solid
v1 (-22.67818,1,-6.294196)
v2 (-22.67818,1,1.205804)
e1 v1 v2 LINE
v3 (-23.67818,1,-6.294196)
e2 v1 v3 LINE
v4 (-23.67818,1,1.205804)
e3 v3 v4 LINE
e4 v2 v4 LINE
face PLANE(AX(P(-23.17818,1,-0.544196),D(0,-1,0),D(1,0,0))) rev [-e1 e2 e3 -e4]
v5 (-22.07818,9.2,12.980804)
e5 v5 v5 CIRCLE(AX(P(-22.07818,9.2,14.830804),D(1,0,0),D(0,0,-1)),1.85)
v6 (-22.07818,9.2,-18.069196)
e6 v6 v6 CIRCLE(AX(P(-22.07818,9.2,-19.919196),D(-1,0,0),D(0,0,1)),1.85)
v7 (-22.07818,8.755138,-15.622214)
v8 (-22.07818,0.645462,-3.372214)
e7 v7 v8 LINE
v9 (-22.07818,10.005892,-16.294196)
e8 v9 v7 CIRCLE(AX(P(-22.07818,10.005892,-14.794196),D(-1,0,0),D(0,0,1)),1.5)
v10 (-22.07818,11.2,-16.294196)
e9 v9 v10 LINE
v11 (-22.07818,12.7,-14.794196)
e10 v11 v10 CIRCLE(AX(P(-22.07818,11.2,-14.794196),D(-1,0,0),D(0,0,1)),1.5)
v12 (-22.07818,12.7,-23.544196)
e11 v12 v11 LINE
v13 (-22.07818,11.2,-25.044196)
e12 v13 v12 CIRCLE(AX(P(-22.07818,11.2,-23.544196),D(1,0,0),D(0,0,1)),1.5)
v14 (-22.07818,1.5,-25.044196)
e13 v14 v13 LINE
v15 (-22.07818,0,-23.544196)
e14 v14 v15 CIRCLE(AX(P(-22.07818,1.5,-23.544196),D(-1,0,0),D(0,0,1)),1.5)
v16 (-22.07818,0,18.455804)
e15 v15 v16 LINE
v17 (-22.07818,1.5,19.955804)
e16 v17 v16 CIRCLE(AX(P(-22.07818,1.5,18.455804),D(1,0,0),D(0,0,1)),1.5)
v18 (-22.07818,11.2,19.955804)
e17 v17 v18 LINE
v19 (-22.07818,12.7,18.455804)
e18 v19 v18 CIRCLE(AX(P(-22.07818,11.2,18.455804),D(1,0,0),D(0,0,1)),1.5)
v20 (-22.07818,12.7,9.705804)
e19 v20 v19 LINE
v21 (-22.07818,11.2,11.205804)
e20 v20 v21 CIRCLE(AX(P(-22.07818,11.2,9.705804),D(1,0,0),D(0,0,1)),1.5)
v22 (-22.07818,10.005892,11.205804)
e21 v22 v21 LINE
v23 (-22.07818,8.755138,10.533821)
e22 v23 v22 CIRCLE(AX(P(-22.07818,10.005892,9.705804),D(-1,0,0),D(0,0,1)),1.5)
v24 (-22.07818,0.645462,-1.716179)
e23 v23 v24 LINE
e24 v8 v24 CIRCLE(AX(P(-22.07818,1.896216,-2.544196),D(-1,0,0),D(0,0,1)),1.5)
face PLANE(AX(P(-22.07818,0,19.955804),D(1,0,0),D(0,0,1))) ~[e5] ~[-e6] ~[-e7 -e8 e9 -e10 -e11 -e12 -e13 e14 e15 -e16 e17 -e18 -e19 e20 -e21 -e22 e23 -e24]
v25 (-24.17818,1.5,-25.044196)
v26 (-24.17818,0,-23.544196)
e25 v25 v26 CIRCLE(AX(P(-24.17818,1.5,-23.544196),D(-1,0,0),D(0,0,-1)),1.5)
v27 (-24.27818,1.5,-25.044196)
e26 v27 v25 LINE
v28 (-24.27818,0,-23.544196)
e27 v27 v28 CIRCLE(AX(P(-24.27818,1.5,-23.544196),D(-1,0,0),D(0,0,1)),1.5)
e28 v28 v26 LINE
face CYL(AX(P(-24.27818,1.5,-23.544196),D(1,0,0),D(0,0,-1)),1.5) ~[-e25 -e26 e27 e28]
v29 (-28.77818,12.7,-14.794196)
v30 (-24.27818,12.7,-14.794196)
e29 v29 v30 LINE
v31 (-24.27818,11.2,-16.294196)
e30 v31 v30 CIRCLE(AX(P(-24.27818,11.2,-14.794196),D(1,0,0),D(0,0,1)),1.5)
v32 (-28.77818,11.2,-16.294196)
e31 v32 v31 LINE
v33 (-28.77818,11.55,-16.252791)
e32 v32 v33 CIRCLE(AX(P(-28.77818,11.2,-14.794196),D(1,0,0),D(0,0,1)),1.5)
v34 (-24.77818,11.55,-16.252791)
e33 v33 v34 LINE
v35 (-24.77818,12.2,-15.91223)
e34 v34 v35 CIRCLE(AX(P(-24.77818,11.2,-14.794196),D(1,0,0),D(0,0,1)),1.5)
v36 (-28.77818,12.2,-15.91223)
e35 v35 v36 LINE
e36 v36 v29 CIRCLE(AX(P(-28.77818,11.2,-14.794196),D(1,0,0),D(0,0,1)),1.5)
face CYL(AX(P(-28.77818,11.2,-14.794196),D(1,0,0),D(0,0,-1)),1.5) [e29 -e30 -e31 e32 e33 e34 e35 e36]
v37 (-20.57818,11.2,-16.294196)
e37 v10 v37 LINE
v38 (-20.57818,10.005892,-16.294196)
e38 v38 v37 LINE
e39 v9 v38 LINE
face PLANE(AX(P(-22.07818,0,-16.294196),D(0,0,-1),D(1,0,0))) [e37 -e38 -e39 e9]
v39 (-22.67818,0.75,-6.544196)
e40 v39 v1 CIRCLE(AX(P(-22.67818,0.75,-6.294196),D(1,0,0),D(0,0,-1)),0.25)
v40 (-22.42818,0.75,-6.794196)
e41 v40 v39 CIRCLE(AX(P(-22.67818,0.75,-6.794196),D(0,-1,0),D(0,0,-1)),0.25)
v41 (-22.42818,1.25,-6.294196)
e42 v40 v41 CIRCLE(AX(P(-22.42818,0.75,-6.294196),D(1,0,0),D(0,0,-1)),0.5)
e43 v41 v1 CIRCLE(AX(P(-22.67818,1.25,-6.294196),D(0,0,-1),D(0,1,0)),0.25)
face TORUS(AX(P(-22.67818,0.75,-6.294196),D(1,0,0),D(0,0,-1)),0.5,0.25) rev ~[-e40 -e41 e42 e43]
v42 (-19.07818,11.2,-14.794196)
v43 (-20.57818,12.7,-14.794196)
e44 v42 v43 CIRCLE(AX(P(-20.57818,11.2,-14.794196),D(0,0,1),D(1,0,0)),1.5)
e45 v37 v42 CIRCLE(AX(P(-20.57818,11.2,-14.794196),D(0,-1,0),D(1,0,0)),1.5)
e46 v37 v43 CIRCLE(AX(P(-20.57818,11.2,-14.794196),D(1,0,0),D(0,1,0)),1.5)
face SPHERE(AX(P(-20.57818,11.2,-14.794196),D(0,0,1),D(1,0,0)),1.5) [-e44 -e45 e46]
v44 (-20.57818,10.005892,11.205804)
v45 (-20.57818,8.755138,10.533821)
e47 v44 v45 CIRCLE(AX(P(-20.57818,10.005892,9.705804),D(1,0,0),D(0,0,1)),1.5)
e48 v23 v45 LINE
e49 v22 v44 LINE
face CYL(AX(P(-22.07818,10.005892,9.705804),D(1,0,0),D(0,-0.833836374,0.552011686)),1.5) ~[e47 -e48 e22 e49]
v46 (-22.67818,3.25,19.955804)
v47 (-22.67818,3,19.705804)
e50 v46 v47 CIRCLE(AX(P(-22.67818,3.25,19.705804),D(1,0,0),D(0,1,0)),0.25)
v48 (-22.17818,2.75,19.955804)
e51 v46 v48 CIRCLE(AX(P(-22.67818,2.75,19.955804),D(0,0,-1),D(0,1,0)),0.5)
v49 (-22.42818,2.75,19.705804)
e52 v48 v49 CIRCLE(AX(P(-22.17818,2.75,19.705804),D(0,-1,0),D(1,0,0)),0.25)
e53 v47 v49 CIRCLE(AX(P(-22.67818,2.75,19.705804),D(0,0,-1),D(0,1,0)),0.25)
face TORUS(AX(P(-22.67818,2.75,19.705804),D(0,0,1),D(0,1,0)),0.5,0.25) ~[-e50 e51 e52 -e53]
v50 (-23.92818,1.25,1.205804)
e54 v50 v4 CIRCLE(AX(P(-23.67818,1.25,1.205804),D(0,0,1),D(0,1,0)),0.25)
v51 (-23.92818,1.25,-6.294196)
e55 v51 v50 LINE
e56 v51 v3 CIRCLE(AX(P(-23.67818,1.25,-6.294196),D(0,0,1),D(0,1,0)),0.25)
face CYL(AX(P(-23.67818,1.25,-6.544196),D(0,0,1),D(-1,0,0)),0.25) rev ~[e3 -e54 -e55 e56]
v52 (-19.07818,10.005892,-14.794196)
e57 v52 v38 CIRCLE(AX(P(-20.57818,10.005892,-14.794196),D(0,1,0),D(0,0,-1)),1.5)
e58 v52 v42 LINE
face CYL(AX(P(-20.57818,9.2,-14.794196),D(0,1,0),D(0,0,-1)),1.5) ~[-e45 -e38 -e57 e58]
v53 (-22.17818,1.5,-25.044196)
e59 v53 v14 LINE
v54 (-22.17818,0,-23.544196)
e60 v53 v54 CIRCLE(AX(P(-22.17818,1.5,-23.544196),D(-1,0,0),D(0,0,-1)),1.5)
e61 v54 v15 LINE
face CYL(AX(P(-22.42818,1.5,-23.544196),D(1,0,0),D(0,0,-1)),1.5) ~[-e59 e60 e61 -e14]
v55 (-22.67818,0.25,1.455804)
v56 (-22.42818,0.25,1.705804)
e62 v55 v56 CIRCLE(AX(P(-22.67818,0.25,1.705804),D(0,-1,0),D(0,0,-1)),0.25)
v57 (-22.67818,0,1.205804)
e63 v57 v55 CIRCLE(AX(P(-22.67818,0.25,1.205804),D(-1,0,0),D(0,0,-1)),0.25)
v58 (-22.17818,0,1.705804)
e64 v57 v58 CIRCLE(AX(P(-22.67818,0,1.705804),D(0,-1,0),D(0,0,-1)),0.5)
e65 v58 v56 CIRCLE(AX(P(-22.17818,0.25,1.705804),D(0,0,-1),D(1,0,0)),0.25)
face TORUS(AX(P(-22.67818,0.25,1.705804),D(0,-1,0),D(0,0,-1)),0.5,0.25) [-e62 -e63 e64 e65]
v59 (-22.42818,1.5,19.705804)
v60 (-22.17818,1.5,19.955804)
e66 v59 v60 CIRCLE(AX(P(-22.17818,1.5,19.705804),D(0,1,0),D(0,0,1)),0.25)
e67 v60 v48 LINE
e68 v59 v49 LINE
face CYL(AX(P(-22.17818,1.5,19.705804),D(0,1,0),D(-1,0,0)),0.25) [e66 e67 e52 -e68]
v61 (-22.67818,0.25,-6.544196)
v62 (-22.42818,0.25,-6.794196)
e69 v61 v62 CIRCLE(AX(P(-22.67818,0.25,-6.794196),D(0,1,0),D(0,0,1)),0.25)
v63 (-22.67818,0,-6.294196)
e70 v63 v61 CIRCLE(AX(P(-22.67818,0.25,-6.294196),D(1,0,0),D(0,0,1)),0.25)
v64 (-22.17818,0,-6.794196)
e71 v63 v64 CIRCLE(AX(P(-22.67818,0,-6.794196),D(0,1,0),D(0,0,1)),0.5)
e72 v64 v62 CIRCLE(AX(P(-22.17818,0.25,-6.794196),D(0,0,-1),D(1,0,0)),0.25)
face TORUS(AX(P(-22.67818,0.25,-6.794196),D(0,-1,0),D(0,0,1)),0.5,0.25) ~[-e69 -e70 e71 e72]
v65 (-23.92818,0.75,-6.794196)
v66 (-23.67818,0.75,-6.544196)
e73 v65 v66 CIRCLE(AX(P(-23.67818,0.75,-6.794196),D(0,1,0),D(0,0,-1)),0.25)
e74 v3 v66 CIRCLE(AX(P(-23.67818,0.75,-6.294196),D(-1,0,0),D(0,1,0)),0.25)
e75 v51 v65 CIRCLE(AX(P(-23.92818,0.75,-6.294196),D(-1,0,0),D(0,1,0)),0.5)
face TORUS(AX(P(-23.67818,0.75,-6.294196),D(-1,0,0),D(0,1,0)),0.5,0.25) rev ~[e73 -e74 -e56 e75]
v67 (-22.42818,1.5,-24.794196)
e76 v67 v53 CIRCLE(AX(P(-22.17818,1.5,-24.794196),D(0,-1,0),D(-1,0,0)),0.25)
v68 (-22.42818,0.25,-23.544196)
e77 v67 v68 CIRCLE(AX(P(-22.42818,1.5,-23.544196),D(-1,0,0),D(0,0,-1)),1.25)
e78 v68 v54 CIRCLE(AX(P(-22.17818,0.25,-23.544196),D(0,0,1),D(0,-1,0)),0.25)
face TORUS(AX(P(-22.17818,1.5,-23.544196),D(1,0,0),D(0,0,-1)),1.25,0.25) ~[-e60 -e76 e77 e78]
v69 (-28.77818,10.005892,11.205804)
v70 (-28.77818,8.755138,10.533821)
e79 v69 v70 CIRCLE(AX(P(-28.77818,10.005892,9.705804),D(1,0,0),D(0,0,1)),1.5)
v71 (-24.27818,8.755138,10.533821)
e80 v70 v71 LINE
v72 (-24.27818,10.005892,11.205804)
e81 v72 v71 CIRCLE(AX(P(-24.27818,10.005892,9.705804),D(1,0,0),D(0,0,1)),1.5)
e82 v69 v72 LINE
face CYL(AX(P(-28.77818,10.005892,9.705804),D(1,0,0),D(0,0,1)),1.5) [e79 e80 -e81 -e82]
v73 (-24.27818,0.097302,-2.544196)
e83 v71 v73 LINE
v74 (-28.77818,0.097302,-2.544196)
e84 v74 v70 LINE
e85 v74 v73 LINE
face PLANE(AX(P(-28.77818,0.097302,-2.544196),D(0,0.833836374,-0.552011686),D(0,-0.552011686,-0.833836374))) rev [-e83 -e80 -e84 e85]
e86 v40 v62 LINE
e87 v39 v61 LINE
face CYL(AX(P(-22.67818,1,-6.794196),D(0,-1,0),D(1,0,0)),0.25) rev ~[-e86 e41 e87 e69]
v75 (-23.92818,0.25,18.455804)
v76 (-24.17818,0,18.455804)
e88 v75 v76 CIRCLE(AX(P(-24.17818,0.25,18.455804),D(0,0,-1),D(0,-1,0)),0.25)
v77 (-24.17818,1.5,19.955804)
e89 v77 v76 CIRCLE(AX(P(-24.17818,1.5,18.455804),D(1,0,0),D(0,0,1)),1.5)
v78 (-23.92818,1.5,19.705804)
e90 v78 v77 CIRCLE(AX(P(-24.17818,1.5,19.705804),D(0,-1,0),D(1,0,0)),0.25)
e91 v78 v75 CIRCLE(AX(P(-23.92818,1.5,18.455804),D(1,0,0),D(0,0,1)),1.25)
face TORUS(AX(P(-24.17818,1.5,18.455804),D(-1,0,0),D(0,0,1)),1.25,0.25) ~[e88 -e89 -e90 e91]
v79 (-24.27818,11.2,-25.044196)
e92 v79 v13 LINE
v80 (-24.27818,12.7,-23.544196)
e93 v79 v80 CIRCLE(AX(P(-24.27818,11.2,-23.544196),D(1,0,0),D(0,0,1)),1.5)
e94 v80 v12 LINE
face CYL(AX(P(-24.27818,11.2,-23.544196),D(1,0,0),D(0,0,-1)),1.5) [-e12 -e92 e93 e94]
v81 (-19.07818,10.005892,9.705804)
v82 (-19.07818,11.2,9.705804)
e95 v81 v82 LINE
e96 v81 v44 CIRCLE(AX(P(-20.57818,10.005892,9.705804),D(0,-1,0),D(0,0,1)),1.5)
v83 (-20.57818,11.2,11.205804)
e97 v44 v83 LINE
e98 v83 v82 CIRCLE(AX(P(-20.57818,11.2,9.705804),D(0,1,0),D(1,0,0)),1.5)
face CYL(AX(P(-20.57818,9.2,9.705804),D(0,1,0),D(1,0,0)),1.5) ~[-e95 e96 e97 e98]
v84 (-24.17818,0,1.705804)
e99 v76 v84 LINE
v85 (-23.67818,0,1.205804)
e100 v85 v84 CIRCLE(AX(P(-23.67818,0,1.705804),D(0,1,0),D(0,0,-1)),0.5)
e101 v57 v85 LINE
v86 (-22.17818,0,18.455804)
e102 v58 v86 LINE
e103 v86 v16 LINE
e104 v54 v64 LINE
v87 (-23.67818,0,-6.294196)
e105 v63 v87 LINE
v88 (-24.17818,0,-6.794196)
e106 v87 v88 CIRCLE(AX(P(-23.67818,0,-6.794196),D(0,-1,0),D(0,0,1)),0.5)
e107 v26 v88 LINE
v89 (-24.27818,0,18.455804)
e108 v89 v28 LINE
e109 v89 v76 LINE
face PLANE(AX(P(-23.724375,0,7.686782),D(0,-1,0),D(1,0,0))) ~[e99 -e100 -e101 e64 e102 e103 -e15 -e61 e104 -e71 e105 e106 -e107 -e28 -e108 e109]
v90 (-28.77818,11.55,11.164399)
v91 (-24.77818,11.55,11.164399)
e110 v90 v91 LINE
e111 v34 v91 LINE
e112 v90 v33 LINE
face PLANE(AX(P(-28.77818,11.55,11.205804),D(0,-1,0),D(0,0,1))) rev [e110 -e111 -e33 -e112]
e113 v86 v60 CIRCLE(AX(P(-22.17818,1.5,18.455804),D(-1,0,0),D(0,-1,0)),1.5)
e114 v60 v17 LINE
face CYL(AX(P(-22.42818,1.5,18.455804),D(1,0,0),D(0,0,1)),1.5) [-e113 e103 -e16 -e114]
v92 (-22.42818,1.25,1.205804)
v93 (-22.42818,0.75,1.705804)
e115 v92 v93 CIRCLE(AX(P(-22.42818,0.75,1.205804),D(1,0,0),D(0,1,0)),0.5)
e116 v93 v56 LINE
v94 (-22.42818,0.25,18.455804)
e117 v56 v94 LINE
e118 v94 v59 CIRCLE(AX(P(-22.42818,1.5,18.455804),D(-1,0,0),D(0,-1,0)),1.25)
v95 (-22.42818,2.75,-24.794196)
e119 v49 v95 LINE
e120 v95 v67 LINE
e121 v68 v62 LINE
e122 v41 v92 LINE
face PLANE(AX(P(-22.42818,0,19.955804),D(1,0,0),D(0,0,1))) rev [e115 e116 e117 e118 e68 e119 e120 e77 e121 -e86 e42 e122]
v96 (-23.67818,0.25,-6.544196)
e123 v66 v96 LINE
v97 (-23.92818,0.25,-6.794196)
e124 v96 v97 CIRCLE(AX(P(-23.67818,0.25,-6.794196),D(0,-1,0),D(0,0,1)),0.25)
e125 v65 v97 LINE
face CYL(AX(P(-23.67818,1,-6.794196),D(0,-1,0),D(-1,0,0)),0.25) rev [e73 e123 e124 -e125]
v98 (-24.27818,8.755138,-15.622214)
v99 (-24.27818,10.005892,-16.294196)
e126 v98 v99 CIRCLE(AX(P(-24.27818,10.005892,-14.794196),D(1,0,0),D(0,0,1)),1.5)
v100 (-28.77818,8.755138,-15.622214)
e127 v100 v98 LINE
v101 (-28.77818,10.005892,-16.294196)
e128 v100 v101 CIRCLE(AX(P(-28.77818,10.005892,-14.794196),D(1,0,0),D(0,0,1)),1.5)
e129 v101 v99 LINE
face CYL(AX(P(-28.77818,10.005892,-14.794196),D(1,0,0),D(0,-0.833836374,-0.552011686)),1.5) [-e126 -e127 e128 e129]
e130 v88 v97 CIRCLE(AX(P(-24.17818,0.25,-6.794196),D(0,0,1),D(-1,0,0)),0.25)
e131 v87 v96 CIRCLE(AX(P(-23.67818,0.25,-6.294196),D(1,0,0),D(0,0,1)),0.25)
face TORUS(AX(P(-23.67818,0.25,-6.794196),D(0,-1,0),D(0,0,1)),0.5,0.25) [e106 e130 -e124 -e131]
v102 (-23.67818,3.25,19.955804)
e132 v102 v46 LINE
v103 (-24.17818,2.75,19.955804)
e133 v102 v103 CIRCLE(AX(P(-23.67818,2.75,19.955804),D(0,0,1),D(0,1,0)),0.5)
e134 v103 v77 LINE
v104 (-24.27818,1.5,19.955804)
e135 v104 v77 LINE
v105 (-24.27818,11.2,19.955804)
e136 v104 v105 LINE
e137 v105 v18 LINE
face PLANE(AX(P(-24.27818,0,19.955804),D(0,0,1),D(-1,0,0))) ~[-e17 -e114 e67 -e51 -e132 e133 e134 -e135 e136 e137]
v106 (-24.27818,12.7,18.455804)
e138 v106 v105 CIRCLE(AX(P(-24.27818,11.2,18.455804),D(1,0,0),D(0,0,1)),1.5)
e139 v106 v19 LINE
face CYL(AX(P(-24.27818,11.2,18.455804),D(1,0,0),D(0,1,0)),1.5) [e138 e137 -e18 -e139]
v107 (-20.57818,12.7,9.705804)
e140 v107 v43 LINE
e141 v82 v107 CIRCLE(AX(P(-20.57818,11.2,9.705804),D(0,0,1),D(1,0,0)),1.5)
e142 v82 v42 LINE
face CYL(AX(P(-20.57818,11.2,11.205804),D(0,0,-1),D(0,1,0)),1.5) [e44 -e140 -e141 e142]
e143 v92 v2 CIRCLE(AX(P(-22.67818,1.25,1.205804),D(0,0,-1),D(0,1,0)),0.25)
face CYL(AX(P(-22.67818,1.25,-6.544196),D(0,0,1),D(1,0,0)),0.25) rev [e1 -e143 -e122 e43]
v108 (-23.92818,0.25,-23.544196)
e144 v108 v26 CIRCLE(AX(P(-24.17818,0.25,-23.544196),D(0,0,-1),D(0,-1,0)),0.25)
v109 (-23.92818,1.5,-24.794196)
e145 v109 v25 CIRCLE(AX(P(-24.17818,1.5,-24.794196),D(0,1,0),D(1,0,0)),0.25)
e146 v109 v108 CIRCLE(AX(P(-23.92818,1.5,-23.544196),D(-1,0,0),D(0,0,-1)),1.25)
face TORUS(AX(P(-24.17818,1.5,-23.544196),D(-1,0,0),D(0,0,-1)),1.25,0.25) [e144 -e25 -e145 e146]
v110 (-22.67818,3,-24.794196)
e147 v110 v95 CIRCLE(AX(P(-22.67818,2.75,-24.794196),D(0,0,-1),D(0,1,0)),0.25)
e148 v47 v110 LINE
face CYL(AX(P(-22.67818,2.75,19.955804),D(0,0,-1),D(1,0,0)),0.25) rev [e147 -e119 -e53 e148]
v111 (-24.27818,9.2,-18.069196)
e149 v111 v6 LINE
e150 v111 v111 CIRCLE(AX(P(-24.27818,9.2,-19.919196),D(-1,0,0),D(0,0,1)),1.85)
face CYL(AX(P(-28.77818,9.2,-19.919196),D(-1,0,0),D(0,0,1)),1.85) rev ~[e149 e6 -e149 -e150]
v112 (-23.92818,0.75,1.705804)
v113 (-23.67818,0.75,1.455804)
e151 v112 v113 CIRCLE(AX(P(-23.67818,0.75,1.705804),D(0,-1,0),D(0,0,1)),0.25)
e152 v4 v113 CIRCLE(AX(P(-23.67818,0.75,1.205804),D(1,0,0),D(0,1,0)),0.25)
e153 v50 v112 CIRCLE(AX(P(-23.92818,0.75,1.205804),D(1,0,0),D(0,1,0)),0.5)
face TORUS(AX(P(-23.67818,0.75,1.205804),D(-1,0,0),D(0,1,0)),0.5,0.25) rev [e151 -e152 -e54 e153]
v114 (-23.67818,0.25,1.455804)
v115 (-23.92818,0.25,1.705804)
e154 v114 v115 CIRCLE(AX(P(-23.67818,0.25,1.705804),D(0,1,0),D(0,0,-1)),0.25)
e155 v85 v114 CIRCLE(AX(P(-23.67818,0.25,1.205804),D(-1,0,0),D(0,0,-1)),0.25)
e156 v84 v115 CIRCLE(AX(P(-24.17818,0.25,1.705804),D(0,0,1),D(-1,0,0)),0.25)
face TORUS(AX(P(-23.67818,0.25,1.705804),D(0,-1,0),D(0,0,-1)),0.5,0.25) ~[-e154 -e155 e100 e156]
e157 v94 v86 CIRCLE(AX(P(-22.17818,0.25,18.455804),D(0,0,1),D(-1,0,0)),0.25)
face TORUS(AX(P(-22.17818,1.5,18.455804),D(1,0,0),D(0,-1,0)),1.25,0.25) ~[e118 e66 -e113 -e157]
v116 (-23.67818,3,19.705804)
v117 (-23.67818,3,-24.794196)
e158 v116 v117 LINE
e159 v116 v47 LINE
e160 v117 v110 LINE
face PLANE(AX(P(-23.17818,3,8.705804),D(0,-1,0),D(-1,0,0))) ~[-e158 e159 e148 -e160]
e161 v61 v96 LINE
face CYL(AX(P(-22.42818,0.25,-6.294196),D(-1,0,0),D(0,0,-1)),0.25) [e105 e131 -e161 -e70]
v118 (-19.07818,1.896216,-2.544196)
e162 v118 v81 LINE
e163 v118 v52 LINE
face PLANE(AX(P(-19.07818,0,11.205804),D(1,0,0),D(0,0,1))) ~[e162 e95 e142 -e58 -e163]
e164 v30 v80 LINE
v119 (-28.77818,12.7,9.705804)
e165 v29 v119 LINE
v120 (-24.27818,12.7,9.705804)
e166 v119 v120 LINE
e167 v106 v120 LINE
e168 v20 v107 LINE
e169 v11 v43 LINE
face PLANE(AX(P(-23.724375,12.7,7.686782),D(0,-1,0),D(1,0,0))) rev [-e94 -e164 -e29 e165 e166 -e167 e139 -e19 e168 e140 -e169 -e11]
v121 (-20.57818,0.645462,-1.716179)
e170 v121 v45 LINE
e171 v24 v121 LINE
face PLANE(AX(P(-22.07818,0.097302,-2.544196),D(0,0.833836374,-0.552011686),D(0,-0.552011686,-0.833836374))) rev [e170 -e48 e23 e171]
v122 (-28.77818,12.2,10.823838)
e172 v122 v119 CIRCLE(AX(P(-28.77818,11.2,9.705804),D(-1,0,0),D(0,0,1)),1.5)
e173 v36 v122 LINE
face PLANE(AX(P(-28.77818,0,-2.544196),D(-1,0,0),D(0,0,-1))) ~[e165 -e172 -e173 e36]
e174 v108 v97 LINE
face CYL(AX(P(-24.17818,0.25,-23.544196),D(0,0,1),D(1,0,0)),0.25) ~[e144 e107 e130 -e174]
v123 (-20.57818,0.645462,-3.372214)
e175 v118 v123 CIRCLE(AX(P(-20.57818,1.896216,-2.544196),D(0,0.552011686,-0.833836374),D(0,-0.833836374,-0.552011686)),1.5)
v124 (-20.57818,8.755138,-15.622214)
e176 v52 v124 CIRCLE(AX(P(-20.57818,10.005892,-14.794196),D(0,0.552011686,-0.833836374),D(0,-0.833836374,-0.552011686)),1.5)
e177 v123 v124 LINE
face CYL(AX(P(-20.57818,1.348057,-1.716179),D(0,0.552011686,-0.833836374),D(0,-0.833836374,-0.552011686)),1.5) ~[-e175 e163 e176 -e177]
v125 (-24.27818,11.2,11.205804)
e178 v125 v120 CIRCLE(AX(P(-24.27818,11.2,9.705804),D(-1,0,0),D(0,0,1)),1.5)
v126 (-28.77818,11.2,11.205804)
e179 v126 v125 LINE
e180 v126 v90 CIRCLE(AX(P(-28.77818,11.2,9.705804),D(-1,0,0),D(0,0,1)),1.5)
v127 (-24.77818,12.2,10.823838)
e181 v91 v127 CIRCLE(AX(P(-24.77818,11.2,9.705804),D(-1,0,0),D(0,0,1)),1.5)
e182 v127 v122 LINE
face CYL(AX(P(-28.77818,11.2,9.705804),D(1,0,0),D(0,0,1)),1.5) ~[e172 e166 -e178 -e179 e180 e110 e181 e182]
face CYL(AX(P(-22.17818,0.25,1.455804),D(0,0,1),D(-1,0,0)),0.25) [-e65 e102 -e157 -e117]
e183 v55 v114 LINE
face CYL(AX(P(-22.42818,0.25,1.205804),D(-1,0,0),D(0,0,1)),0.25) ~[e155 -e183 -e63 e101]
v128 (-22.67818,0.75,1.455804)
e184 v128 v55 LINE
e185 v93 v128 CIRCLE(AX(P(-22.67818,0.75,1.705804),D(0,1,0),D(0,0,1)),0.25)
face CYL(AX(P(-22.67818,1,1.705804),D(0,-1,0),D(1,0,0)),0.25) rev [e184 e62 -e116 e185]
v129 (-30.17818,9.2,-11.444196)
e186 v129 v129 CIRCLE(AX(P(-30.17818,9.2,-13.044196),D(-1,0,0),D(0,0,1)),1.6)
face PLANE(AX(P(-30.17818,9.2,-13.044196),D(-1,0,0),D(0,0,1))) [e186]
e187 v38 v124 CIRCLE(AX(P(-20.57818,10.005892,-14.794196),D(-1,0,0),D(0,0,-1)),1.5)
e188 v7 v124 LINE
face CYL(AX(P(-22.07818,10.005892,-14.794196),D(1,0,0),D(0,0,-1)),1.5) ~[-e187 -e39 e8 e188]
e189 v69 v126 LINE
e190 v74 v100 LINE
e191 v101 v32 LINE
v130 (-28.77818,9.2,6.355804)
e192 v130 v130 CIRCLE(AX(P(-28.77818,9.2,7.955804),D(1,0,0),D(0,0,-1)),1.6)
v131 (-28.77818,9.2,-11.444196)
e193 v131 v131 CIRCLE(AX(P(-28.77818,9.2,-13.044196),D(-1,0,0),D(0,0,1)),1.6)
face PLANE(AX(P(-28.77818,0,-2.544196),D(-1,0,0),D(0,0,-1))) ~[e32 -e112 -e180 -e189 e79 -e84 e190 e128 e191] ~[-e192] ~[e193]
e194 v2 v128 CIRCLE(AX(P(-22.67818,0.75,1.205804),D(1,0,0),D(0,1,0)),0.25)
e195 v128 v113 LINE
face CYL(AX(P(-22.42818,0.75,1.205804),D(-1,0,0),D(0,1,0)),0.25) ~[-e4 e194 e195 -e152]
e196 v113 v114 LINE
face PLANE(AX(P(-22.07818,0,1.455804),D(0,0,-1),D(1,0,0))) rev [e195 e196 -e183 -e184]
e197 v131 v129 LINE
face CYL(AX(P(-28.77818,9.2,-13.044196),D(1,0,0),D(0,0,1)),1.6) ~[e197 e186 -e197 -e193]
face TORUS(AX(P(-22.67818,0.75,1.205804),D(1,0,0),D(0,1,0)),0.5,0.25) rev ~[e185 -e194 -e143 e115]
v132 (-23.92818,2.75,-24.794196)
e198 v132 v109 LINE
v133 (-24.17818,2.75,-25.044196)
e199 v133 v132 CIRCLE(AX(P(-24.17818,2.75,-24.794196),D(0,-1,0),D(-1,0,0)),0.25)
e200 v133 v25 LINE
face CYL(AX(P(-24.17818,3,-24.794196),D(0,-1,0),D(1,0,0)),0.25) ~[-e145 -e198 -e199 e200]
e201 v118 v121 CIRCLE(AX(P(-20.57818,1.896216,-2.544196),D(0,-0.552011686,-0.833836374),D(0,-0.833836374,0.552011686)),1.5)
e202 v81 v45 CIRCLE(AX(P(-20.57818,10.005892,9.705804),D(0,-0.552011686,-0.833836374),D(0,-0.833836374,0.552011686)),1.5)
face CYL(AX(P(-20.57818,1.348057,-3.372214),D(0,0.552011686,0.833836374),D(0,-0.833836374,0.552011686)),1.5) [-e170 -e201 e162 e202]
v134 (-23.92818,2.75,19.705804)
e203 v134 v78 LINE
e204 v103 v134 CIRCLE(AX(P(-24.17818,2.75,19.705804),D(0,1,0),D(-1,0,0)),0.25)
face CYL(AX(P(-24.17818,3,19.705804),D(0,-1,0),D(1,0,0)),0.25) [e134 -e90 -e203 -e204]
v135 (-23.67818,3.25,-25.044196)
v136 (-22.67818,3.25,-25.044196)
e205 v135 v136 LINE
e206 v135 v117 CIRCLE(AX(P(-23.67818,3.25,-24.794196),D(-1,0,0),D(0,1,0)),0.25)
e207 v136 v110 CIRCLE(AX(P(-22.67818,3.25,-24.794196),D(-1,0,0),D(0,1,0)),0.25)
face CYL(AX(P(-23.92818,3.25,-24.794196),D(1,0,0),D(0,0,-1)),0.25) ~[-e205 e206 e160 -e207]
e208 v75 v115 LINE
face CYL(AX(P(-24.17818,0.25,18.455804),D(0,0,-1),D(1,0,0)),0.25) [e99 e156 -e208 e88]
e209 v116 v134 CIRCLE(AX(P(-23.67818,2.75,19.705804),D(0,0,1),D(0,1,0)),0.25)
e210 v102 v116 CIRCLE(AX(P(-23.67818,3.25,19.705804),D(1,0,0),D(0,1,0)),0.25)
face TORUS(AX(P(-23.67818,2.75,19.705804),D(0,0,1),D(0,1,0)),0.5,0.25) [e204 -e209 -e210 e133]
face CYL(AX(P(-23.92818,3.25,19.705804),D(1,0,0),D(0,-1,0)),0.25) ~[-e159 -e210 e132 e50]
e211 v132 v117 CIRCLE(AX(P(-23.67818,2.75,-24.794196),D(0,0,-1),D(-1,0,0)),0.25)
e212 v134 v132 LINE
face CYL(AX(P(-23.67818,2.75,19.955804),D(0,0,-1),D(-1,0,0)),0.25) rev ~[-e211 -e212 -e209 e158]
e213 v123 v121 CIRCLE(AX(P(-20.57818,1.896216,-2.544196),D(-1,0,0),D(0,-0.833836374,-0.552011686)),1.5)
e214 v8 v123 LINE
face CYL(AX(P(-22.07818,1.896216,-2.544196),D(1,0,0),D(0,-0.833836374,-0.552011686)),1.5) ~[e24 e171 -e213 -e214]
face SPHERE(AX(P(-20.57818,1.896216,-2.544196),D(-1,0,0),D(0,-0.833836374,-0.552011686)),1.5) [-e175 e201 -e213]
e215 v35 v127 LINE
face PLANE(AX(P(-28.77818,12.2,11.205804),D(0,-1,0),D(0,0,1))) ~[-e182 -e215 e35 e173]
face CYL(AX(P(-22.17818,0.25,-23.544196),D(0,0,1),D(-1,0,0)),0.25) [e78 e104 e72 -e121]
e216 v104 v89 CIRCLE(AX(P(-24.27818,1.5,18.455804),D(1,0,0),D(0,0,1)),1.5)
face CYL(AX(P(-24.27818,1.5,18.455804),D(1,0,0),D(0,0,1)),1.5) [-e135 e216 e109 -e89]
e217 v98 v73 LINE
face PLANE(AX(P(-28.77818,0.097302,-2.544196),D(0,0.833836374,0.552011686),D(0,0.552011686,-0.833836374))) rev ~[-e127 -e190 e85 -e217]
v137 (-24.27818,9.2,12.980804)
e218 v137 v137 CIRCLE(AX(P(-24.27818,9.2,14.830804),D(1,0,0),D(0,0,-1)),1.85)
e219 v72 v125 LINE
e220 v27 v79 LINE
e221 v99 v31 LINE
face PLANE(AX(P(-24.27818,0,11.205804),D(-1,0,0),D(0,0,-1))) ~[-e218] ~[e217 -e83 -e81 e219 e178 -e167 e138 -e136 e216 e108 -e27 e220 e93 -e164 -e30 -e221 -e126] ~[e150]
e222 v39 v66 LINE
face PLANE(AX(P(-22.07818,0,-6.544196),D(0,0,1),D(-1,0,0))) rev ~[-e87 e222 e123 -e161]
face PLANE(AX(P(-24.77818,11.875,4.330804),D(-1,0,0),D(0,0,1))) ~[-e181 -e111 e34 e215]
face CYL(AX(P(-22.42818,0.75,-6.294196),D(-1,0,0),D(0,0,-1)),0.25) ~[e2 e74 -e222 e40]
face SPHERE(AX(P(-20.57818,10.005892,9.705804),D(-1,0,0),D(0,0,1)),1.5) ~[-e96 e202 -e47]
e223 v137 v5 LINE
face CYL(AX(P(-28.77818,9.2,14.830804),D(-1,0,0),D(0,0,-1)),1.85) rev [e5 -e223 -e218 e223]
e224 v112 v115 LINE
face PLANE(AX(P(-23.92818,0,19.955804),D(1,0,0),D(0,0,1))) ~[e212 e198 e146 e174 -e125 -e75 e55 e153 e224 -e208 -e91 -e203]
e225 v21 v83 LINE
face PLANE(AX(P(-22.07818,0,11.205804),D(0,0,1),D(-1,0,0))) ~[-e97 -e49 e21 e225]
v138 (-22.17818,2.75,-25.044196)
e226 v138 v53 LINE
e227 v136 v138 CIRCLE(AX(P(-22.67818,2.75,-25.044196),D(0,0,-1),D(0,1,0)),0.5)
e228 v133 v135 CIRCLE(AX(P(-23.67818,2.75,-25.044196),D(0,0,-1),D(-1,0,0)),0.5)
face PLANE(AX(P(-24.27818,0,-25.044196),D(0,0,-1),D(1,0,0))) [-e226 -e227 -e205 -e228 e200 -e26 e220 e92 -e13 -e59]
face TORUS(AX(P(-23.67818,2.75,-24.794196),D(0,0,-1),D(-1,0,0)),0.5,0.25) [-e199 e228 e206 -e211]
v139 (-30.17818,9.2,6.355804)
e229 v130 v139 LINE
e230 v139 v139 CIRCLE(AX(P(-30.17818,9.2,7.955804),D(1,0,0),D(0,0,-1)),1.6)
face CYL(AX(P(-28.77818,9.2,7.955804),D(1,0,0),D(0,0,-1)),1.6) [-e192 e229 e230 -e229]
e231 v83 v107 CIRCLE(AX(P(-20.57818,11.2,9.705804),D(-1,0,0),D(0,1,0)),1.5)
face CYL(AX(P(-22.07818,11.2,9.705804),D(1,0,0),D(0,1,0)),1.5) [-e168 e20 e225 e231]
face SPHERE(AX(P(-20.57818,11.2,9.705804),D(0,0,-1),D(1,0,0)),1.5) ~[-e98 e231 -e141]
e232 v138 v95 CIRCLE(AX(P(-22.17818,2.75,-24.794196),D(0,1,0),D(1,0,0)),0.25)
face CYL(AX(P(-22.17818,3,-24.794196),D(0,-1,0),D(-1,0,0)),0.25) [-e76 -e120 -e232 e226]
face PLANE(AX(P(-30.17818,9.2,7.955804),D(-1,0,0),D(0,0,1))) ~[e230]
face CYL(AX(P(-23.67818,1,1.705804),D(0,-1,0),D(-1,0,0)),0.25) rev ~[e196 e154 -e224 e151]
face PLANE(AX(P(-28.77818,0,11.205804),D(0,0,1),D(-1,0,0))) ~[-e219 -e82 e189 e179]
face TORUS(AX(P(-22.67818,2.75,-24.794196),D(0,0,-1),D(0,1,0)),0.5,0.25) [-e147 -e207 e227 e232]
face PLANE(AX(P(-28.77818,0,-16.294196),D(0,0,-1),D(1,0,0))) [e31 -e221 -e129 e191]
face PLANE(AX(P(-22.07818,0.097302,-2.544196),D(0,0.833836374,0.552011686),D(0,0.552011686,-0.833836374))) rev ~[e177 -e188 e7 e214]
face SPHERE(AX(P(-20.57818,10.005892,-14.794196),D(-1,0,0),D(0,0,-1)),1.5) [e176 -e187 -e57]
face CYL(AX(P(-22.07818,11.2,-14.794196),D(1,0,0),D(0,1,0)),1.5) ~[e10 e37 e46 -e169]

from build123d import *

# Parameters (mm, degrees)
BOSS_EXTRUDE1_DEPTH     = 12.7
SKETCH7_W               = 13.75
SKETCH7_H               = 0.65
CUT_EXTRUDE2_DEPTH      = 4
SKETCH7_4_R             = 1.6
BOSS_EXTRUDE2_DEPTH     = 1.4
CUT_EXTRUDE3_DEPTH      = 4.5
SKETCH7_6_R             = 1.85
CUT_EXTRUDE4_DEPTH      = 2.4
CUT_EXTRUDE4_DEPTH_BACK = 10.7
CUT_EXTRUDE5_DEPTH      = 3
SKETCH12_W              = 1.5
SKETCH12_H              = 22.5
CUT_EXTRUDE6_DEPTH      = 3
SKETCH14_W              = 2.2
SKETCH14_H              = 4
BOSS_EXTRUDE3_DEPTH     = 1
FILLET5_R               = 1.5
FILLET6_R               = 0.25


with BuildPart() as part:
    # Sketch1 → Boss-Extrude1 (new body)
    with BuildSketch(Plane(origin=(0, 0, 0), x_dir=(1, 0, 0), z_dir=(0, 1, 0))):
        Polygon((-28.77817965, 16.29419618), (-24.27817965, 16.29419618), (-24.27817965, 25.04419618), (-22.07817965, 25.04419618), (-22.07817965, 16.29419618), (-19.07817965, 16.29419618), (-19.07817965, 2.54419618), (-28.77817965, 2.54419618), align=None)
    extrude(amount=BOSS_EXTRUDE1_DEPTH)

    # Sketch7 → Cut-Extrude2 (cut)
    with BuildSketch(Plane.ZY.offset(28.77817965)):
        with Locations((-9.41919618, 11.875)):
            Rectangle(SKETCH7_W, SKETCH7_H)
    extrude(amount=-CUT_EXTRUDE2_DEPTH, mode=Mode.SUBTRACT)

    # Sketch7<4> → Boss-Extrude2 (add)
    with BuildSketch(Plane.ZY.offset(28.77817965)):
        with Locations((-13.04419618, 9.2)):
            Circle(SKETCH7_4_R)
    extrude(amount=BOSS_EXTRUDE2_DEPTH)

    # Sketch7<5> → Cut-Extrude3 (cut)
    with BuildSketch(Plane.ZY.offset(28.77817965)):
        Polygon((-2.54419618, 0.097302003), (-16.29419618, 9.2), (-16.29419618, 0), (-2.54419618, 0), align=None)
    extrude(amount=-CUT_EXTRUDE3_DEPTH, mode=Mode.SUBTRACT)

    # Sketch7<6> → Cut-Extrude4 (cut, two sides)
    with BuildSketch(Plane.ZY.offset(28.77817965)) as cut_extrude4_sk:
        with Locations((-19.91919618, 9.2)):
            Circle(SKETCH7_6_R)
    extrude(amount=CUT_EXTRUDE4_DEPTH, mode=Mode.SUBTRACT)
    extrude(cut_extrude4_sk.sketch, amount=-CUT_EXTRUDE4_DEPTH_BACK, mode=Mode.SUBTRACT)

    # Sketch10 → Cut-Extrude5 (cut)
    with BuildSketch(Plane(origin=(-22.07817965, 0, 0), x_dir=(0, 0, -1), z_dir=(1, 0, 0))):
        Polygon((16.29419618, 9.2), (16.29419618, 0), (2.54419618, 0), (2.54419618, 0.097302003), align=None)
    extrude(amount=CUT_EXTRUDE5_DEPTH, mode=Mode.SUBTRACT)

    # Sketch12 → Cut-Extrude6 (cut)
    with BuildSketch(Plane.XZ):
        with Locations((-23.17817965, -13.79419618)):
            Rectangle(SKETCH12_W, SKETCH12_H)
    extrude(amount=-CUT_EXTRUDE6_DEPTH, mode=Mode.SUBTRACT)

    # Sketch14 → Boss-Extrude3 (add)
    with BuildSketch(Plane(origin=(0, 0, 0), x_dir=(-1, 0, 0), z_dir=(0, -1, 0))):
        with Locations((23.17817965, 4.54419618)):
            Rectangle(SKETCH14_W, SKETCH14_H)
    extrude(amount=-BOSS_EXTRUDE3_DEPTH)

    # Mirror3: part across plane


with BuildPart() as part_1:
    add(part.part)
    add(part.part.mirror(Plane(origin=(-19.07817965, 12.7, -2.54419618), x_dir=(1, 0, 0), z_dir=(0, 0, -1))))

    # Fillet5
    fillet5_edges = [part_1.edges().sort_by_distance(p)[0] for p in [
        (-19.07817965, 12.7, -2.54419618),
        (-19.07817965, 10.95, -16.29419618),
        (-26.52817965, 12.7, 11.20580382),
        (-19.07817965, 10.95, 11.20580382),
        (-19.07817965, 4.648651002, 4.33080382),
        (-20.57817965, 12.7, 11.20580382),
        (-20.57817965, 9.2, 11.20580382),
        (-23.17817965, 12.7, 19.95580382),
        (-24.10317965, 0, 19.95580382),
        (-22.25317965, 0, 19.95580382),
        (-26.52817965, 9.2, 11.20580382),
        (-20.57817965, 0.097302003, -2.54419618),
        (-20.57817965, 12.7, -16.29419618),
        (-23.17817965, 12.7, -25.04419618),
        (-26.52817965, 12.7, -16.29419618),
        (-26.52817965, 9.2, -16.29419618),
        (-19.07817965, 4.648651002, -9.41919618),
        (-20.57817965, 9.2, -16.29419618),
        (-24.10317965, 0, -25.04419618),
        (-22.25317965, 0, -25.04419618),
    ]]
    fillet(fillet5_edges, radius=FILLET5_R)

    # Fillet6
    fillet6_edges = [part_1.edges().sort_by_distance(p)[0] for p in [
        (-23.92817965, 0, -15.04419618),
        (-23.92817965, 1, -2.54419618),
        (-23.92817965, 0.5, -6.54419618),
        (-23.17817965, 1, -6.54419618),
        (-22.42817965, 0.5, -6.54419618),
        (-22.42817965, 1, -2.54419618),
        (-23.17817965, 0, -6.54419618),
        (-23.17817965, 3, 19.95580382),
        (-22.42817965, 2.25, 19.95580382),
        (-23.92817965, 0, 9.95580382),
        (-23.92817965, 2.25, 19.95580382),
        (-22.42817965, 0.5, 1.45580382),
        (-23.92817965, 0.5, 1.45580382),
        (-23.17817965, 0, 1.45580382),
        (-23.17817965, 1, 1.45580382),
        (-22.42817965, 0, -15.04419618),
        (-22.42817965, 0, 9.95580382),
        (-22.42817965, 0.439339828, -24.604856352),
        (-22.42817965, 0.439339828, 19.516463992),
        (-23.92817965, 0.439339828, -24.604856352),
        (-23.92817965, 0.439339828, 19.516463992),
        (-22.42817965, 3, -2.54419618),
        (-23.17817965, 3, -25.04419618),
        (-22.42817965, 2.25, -25.04419618),
        (-23.92817965, 3, -2.54419618),
        (-23.92817965, 2.25, -25.04419618),
    ]]
    fillet(fillet6_edges, radius=FILLET6_R)


solid = part_1.part
